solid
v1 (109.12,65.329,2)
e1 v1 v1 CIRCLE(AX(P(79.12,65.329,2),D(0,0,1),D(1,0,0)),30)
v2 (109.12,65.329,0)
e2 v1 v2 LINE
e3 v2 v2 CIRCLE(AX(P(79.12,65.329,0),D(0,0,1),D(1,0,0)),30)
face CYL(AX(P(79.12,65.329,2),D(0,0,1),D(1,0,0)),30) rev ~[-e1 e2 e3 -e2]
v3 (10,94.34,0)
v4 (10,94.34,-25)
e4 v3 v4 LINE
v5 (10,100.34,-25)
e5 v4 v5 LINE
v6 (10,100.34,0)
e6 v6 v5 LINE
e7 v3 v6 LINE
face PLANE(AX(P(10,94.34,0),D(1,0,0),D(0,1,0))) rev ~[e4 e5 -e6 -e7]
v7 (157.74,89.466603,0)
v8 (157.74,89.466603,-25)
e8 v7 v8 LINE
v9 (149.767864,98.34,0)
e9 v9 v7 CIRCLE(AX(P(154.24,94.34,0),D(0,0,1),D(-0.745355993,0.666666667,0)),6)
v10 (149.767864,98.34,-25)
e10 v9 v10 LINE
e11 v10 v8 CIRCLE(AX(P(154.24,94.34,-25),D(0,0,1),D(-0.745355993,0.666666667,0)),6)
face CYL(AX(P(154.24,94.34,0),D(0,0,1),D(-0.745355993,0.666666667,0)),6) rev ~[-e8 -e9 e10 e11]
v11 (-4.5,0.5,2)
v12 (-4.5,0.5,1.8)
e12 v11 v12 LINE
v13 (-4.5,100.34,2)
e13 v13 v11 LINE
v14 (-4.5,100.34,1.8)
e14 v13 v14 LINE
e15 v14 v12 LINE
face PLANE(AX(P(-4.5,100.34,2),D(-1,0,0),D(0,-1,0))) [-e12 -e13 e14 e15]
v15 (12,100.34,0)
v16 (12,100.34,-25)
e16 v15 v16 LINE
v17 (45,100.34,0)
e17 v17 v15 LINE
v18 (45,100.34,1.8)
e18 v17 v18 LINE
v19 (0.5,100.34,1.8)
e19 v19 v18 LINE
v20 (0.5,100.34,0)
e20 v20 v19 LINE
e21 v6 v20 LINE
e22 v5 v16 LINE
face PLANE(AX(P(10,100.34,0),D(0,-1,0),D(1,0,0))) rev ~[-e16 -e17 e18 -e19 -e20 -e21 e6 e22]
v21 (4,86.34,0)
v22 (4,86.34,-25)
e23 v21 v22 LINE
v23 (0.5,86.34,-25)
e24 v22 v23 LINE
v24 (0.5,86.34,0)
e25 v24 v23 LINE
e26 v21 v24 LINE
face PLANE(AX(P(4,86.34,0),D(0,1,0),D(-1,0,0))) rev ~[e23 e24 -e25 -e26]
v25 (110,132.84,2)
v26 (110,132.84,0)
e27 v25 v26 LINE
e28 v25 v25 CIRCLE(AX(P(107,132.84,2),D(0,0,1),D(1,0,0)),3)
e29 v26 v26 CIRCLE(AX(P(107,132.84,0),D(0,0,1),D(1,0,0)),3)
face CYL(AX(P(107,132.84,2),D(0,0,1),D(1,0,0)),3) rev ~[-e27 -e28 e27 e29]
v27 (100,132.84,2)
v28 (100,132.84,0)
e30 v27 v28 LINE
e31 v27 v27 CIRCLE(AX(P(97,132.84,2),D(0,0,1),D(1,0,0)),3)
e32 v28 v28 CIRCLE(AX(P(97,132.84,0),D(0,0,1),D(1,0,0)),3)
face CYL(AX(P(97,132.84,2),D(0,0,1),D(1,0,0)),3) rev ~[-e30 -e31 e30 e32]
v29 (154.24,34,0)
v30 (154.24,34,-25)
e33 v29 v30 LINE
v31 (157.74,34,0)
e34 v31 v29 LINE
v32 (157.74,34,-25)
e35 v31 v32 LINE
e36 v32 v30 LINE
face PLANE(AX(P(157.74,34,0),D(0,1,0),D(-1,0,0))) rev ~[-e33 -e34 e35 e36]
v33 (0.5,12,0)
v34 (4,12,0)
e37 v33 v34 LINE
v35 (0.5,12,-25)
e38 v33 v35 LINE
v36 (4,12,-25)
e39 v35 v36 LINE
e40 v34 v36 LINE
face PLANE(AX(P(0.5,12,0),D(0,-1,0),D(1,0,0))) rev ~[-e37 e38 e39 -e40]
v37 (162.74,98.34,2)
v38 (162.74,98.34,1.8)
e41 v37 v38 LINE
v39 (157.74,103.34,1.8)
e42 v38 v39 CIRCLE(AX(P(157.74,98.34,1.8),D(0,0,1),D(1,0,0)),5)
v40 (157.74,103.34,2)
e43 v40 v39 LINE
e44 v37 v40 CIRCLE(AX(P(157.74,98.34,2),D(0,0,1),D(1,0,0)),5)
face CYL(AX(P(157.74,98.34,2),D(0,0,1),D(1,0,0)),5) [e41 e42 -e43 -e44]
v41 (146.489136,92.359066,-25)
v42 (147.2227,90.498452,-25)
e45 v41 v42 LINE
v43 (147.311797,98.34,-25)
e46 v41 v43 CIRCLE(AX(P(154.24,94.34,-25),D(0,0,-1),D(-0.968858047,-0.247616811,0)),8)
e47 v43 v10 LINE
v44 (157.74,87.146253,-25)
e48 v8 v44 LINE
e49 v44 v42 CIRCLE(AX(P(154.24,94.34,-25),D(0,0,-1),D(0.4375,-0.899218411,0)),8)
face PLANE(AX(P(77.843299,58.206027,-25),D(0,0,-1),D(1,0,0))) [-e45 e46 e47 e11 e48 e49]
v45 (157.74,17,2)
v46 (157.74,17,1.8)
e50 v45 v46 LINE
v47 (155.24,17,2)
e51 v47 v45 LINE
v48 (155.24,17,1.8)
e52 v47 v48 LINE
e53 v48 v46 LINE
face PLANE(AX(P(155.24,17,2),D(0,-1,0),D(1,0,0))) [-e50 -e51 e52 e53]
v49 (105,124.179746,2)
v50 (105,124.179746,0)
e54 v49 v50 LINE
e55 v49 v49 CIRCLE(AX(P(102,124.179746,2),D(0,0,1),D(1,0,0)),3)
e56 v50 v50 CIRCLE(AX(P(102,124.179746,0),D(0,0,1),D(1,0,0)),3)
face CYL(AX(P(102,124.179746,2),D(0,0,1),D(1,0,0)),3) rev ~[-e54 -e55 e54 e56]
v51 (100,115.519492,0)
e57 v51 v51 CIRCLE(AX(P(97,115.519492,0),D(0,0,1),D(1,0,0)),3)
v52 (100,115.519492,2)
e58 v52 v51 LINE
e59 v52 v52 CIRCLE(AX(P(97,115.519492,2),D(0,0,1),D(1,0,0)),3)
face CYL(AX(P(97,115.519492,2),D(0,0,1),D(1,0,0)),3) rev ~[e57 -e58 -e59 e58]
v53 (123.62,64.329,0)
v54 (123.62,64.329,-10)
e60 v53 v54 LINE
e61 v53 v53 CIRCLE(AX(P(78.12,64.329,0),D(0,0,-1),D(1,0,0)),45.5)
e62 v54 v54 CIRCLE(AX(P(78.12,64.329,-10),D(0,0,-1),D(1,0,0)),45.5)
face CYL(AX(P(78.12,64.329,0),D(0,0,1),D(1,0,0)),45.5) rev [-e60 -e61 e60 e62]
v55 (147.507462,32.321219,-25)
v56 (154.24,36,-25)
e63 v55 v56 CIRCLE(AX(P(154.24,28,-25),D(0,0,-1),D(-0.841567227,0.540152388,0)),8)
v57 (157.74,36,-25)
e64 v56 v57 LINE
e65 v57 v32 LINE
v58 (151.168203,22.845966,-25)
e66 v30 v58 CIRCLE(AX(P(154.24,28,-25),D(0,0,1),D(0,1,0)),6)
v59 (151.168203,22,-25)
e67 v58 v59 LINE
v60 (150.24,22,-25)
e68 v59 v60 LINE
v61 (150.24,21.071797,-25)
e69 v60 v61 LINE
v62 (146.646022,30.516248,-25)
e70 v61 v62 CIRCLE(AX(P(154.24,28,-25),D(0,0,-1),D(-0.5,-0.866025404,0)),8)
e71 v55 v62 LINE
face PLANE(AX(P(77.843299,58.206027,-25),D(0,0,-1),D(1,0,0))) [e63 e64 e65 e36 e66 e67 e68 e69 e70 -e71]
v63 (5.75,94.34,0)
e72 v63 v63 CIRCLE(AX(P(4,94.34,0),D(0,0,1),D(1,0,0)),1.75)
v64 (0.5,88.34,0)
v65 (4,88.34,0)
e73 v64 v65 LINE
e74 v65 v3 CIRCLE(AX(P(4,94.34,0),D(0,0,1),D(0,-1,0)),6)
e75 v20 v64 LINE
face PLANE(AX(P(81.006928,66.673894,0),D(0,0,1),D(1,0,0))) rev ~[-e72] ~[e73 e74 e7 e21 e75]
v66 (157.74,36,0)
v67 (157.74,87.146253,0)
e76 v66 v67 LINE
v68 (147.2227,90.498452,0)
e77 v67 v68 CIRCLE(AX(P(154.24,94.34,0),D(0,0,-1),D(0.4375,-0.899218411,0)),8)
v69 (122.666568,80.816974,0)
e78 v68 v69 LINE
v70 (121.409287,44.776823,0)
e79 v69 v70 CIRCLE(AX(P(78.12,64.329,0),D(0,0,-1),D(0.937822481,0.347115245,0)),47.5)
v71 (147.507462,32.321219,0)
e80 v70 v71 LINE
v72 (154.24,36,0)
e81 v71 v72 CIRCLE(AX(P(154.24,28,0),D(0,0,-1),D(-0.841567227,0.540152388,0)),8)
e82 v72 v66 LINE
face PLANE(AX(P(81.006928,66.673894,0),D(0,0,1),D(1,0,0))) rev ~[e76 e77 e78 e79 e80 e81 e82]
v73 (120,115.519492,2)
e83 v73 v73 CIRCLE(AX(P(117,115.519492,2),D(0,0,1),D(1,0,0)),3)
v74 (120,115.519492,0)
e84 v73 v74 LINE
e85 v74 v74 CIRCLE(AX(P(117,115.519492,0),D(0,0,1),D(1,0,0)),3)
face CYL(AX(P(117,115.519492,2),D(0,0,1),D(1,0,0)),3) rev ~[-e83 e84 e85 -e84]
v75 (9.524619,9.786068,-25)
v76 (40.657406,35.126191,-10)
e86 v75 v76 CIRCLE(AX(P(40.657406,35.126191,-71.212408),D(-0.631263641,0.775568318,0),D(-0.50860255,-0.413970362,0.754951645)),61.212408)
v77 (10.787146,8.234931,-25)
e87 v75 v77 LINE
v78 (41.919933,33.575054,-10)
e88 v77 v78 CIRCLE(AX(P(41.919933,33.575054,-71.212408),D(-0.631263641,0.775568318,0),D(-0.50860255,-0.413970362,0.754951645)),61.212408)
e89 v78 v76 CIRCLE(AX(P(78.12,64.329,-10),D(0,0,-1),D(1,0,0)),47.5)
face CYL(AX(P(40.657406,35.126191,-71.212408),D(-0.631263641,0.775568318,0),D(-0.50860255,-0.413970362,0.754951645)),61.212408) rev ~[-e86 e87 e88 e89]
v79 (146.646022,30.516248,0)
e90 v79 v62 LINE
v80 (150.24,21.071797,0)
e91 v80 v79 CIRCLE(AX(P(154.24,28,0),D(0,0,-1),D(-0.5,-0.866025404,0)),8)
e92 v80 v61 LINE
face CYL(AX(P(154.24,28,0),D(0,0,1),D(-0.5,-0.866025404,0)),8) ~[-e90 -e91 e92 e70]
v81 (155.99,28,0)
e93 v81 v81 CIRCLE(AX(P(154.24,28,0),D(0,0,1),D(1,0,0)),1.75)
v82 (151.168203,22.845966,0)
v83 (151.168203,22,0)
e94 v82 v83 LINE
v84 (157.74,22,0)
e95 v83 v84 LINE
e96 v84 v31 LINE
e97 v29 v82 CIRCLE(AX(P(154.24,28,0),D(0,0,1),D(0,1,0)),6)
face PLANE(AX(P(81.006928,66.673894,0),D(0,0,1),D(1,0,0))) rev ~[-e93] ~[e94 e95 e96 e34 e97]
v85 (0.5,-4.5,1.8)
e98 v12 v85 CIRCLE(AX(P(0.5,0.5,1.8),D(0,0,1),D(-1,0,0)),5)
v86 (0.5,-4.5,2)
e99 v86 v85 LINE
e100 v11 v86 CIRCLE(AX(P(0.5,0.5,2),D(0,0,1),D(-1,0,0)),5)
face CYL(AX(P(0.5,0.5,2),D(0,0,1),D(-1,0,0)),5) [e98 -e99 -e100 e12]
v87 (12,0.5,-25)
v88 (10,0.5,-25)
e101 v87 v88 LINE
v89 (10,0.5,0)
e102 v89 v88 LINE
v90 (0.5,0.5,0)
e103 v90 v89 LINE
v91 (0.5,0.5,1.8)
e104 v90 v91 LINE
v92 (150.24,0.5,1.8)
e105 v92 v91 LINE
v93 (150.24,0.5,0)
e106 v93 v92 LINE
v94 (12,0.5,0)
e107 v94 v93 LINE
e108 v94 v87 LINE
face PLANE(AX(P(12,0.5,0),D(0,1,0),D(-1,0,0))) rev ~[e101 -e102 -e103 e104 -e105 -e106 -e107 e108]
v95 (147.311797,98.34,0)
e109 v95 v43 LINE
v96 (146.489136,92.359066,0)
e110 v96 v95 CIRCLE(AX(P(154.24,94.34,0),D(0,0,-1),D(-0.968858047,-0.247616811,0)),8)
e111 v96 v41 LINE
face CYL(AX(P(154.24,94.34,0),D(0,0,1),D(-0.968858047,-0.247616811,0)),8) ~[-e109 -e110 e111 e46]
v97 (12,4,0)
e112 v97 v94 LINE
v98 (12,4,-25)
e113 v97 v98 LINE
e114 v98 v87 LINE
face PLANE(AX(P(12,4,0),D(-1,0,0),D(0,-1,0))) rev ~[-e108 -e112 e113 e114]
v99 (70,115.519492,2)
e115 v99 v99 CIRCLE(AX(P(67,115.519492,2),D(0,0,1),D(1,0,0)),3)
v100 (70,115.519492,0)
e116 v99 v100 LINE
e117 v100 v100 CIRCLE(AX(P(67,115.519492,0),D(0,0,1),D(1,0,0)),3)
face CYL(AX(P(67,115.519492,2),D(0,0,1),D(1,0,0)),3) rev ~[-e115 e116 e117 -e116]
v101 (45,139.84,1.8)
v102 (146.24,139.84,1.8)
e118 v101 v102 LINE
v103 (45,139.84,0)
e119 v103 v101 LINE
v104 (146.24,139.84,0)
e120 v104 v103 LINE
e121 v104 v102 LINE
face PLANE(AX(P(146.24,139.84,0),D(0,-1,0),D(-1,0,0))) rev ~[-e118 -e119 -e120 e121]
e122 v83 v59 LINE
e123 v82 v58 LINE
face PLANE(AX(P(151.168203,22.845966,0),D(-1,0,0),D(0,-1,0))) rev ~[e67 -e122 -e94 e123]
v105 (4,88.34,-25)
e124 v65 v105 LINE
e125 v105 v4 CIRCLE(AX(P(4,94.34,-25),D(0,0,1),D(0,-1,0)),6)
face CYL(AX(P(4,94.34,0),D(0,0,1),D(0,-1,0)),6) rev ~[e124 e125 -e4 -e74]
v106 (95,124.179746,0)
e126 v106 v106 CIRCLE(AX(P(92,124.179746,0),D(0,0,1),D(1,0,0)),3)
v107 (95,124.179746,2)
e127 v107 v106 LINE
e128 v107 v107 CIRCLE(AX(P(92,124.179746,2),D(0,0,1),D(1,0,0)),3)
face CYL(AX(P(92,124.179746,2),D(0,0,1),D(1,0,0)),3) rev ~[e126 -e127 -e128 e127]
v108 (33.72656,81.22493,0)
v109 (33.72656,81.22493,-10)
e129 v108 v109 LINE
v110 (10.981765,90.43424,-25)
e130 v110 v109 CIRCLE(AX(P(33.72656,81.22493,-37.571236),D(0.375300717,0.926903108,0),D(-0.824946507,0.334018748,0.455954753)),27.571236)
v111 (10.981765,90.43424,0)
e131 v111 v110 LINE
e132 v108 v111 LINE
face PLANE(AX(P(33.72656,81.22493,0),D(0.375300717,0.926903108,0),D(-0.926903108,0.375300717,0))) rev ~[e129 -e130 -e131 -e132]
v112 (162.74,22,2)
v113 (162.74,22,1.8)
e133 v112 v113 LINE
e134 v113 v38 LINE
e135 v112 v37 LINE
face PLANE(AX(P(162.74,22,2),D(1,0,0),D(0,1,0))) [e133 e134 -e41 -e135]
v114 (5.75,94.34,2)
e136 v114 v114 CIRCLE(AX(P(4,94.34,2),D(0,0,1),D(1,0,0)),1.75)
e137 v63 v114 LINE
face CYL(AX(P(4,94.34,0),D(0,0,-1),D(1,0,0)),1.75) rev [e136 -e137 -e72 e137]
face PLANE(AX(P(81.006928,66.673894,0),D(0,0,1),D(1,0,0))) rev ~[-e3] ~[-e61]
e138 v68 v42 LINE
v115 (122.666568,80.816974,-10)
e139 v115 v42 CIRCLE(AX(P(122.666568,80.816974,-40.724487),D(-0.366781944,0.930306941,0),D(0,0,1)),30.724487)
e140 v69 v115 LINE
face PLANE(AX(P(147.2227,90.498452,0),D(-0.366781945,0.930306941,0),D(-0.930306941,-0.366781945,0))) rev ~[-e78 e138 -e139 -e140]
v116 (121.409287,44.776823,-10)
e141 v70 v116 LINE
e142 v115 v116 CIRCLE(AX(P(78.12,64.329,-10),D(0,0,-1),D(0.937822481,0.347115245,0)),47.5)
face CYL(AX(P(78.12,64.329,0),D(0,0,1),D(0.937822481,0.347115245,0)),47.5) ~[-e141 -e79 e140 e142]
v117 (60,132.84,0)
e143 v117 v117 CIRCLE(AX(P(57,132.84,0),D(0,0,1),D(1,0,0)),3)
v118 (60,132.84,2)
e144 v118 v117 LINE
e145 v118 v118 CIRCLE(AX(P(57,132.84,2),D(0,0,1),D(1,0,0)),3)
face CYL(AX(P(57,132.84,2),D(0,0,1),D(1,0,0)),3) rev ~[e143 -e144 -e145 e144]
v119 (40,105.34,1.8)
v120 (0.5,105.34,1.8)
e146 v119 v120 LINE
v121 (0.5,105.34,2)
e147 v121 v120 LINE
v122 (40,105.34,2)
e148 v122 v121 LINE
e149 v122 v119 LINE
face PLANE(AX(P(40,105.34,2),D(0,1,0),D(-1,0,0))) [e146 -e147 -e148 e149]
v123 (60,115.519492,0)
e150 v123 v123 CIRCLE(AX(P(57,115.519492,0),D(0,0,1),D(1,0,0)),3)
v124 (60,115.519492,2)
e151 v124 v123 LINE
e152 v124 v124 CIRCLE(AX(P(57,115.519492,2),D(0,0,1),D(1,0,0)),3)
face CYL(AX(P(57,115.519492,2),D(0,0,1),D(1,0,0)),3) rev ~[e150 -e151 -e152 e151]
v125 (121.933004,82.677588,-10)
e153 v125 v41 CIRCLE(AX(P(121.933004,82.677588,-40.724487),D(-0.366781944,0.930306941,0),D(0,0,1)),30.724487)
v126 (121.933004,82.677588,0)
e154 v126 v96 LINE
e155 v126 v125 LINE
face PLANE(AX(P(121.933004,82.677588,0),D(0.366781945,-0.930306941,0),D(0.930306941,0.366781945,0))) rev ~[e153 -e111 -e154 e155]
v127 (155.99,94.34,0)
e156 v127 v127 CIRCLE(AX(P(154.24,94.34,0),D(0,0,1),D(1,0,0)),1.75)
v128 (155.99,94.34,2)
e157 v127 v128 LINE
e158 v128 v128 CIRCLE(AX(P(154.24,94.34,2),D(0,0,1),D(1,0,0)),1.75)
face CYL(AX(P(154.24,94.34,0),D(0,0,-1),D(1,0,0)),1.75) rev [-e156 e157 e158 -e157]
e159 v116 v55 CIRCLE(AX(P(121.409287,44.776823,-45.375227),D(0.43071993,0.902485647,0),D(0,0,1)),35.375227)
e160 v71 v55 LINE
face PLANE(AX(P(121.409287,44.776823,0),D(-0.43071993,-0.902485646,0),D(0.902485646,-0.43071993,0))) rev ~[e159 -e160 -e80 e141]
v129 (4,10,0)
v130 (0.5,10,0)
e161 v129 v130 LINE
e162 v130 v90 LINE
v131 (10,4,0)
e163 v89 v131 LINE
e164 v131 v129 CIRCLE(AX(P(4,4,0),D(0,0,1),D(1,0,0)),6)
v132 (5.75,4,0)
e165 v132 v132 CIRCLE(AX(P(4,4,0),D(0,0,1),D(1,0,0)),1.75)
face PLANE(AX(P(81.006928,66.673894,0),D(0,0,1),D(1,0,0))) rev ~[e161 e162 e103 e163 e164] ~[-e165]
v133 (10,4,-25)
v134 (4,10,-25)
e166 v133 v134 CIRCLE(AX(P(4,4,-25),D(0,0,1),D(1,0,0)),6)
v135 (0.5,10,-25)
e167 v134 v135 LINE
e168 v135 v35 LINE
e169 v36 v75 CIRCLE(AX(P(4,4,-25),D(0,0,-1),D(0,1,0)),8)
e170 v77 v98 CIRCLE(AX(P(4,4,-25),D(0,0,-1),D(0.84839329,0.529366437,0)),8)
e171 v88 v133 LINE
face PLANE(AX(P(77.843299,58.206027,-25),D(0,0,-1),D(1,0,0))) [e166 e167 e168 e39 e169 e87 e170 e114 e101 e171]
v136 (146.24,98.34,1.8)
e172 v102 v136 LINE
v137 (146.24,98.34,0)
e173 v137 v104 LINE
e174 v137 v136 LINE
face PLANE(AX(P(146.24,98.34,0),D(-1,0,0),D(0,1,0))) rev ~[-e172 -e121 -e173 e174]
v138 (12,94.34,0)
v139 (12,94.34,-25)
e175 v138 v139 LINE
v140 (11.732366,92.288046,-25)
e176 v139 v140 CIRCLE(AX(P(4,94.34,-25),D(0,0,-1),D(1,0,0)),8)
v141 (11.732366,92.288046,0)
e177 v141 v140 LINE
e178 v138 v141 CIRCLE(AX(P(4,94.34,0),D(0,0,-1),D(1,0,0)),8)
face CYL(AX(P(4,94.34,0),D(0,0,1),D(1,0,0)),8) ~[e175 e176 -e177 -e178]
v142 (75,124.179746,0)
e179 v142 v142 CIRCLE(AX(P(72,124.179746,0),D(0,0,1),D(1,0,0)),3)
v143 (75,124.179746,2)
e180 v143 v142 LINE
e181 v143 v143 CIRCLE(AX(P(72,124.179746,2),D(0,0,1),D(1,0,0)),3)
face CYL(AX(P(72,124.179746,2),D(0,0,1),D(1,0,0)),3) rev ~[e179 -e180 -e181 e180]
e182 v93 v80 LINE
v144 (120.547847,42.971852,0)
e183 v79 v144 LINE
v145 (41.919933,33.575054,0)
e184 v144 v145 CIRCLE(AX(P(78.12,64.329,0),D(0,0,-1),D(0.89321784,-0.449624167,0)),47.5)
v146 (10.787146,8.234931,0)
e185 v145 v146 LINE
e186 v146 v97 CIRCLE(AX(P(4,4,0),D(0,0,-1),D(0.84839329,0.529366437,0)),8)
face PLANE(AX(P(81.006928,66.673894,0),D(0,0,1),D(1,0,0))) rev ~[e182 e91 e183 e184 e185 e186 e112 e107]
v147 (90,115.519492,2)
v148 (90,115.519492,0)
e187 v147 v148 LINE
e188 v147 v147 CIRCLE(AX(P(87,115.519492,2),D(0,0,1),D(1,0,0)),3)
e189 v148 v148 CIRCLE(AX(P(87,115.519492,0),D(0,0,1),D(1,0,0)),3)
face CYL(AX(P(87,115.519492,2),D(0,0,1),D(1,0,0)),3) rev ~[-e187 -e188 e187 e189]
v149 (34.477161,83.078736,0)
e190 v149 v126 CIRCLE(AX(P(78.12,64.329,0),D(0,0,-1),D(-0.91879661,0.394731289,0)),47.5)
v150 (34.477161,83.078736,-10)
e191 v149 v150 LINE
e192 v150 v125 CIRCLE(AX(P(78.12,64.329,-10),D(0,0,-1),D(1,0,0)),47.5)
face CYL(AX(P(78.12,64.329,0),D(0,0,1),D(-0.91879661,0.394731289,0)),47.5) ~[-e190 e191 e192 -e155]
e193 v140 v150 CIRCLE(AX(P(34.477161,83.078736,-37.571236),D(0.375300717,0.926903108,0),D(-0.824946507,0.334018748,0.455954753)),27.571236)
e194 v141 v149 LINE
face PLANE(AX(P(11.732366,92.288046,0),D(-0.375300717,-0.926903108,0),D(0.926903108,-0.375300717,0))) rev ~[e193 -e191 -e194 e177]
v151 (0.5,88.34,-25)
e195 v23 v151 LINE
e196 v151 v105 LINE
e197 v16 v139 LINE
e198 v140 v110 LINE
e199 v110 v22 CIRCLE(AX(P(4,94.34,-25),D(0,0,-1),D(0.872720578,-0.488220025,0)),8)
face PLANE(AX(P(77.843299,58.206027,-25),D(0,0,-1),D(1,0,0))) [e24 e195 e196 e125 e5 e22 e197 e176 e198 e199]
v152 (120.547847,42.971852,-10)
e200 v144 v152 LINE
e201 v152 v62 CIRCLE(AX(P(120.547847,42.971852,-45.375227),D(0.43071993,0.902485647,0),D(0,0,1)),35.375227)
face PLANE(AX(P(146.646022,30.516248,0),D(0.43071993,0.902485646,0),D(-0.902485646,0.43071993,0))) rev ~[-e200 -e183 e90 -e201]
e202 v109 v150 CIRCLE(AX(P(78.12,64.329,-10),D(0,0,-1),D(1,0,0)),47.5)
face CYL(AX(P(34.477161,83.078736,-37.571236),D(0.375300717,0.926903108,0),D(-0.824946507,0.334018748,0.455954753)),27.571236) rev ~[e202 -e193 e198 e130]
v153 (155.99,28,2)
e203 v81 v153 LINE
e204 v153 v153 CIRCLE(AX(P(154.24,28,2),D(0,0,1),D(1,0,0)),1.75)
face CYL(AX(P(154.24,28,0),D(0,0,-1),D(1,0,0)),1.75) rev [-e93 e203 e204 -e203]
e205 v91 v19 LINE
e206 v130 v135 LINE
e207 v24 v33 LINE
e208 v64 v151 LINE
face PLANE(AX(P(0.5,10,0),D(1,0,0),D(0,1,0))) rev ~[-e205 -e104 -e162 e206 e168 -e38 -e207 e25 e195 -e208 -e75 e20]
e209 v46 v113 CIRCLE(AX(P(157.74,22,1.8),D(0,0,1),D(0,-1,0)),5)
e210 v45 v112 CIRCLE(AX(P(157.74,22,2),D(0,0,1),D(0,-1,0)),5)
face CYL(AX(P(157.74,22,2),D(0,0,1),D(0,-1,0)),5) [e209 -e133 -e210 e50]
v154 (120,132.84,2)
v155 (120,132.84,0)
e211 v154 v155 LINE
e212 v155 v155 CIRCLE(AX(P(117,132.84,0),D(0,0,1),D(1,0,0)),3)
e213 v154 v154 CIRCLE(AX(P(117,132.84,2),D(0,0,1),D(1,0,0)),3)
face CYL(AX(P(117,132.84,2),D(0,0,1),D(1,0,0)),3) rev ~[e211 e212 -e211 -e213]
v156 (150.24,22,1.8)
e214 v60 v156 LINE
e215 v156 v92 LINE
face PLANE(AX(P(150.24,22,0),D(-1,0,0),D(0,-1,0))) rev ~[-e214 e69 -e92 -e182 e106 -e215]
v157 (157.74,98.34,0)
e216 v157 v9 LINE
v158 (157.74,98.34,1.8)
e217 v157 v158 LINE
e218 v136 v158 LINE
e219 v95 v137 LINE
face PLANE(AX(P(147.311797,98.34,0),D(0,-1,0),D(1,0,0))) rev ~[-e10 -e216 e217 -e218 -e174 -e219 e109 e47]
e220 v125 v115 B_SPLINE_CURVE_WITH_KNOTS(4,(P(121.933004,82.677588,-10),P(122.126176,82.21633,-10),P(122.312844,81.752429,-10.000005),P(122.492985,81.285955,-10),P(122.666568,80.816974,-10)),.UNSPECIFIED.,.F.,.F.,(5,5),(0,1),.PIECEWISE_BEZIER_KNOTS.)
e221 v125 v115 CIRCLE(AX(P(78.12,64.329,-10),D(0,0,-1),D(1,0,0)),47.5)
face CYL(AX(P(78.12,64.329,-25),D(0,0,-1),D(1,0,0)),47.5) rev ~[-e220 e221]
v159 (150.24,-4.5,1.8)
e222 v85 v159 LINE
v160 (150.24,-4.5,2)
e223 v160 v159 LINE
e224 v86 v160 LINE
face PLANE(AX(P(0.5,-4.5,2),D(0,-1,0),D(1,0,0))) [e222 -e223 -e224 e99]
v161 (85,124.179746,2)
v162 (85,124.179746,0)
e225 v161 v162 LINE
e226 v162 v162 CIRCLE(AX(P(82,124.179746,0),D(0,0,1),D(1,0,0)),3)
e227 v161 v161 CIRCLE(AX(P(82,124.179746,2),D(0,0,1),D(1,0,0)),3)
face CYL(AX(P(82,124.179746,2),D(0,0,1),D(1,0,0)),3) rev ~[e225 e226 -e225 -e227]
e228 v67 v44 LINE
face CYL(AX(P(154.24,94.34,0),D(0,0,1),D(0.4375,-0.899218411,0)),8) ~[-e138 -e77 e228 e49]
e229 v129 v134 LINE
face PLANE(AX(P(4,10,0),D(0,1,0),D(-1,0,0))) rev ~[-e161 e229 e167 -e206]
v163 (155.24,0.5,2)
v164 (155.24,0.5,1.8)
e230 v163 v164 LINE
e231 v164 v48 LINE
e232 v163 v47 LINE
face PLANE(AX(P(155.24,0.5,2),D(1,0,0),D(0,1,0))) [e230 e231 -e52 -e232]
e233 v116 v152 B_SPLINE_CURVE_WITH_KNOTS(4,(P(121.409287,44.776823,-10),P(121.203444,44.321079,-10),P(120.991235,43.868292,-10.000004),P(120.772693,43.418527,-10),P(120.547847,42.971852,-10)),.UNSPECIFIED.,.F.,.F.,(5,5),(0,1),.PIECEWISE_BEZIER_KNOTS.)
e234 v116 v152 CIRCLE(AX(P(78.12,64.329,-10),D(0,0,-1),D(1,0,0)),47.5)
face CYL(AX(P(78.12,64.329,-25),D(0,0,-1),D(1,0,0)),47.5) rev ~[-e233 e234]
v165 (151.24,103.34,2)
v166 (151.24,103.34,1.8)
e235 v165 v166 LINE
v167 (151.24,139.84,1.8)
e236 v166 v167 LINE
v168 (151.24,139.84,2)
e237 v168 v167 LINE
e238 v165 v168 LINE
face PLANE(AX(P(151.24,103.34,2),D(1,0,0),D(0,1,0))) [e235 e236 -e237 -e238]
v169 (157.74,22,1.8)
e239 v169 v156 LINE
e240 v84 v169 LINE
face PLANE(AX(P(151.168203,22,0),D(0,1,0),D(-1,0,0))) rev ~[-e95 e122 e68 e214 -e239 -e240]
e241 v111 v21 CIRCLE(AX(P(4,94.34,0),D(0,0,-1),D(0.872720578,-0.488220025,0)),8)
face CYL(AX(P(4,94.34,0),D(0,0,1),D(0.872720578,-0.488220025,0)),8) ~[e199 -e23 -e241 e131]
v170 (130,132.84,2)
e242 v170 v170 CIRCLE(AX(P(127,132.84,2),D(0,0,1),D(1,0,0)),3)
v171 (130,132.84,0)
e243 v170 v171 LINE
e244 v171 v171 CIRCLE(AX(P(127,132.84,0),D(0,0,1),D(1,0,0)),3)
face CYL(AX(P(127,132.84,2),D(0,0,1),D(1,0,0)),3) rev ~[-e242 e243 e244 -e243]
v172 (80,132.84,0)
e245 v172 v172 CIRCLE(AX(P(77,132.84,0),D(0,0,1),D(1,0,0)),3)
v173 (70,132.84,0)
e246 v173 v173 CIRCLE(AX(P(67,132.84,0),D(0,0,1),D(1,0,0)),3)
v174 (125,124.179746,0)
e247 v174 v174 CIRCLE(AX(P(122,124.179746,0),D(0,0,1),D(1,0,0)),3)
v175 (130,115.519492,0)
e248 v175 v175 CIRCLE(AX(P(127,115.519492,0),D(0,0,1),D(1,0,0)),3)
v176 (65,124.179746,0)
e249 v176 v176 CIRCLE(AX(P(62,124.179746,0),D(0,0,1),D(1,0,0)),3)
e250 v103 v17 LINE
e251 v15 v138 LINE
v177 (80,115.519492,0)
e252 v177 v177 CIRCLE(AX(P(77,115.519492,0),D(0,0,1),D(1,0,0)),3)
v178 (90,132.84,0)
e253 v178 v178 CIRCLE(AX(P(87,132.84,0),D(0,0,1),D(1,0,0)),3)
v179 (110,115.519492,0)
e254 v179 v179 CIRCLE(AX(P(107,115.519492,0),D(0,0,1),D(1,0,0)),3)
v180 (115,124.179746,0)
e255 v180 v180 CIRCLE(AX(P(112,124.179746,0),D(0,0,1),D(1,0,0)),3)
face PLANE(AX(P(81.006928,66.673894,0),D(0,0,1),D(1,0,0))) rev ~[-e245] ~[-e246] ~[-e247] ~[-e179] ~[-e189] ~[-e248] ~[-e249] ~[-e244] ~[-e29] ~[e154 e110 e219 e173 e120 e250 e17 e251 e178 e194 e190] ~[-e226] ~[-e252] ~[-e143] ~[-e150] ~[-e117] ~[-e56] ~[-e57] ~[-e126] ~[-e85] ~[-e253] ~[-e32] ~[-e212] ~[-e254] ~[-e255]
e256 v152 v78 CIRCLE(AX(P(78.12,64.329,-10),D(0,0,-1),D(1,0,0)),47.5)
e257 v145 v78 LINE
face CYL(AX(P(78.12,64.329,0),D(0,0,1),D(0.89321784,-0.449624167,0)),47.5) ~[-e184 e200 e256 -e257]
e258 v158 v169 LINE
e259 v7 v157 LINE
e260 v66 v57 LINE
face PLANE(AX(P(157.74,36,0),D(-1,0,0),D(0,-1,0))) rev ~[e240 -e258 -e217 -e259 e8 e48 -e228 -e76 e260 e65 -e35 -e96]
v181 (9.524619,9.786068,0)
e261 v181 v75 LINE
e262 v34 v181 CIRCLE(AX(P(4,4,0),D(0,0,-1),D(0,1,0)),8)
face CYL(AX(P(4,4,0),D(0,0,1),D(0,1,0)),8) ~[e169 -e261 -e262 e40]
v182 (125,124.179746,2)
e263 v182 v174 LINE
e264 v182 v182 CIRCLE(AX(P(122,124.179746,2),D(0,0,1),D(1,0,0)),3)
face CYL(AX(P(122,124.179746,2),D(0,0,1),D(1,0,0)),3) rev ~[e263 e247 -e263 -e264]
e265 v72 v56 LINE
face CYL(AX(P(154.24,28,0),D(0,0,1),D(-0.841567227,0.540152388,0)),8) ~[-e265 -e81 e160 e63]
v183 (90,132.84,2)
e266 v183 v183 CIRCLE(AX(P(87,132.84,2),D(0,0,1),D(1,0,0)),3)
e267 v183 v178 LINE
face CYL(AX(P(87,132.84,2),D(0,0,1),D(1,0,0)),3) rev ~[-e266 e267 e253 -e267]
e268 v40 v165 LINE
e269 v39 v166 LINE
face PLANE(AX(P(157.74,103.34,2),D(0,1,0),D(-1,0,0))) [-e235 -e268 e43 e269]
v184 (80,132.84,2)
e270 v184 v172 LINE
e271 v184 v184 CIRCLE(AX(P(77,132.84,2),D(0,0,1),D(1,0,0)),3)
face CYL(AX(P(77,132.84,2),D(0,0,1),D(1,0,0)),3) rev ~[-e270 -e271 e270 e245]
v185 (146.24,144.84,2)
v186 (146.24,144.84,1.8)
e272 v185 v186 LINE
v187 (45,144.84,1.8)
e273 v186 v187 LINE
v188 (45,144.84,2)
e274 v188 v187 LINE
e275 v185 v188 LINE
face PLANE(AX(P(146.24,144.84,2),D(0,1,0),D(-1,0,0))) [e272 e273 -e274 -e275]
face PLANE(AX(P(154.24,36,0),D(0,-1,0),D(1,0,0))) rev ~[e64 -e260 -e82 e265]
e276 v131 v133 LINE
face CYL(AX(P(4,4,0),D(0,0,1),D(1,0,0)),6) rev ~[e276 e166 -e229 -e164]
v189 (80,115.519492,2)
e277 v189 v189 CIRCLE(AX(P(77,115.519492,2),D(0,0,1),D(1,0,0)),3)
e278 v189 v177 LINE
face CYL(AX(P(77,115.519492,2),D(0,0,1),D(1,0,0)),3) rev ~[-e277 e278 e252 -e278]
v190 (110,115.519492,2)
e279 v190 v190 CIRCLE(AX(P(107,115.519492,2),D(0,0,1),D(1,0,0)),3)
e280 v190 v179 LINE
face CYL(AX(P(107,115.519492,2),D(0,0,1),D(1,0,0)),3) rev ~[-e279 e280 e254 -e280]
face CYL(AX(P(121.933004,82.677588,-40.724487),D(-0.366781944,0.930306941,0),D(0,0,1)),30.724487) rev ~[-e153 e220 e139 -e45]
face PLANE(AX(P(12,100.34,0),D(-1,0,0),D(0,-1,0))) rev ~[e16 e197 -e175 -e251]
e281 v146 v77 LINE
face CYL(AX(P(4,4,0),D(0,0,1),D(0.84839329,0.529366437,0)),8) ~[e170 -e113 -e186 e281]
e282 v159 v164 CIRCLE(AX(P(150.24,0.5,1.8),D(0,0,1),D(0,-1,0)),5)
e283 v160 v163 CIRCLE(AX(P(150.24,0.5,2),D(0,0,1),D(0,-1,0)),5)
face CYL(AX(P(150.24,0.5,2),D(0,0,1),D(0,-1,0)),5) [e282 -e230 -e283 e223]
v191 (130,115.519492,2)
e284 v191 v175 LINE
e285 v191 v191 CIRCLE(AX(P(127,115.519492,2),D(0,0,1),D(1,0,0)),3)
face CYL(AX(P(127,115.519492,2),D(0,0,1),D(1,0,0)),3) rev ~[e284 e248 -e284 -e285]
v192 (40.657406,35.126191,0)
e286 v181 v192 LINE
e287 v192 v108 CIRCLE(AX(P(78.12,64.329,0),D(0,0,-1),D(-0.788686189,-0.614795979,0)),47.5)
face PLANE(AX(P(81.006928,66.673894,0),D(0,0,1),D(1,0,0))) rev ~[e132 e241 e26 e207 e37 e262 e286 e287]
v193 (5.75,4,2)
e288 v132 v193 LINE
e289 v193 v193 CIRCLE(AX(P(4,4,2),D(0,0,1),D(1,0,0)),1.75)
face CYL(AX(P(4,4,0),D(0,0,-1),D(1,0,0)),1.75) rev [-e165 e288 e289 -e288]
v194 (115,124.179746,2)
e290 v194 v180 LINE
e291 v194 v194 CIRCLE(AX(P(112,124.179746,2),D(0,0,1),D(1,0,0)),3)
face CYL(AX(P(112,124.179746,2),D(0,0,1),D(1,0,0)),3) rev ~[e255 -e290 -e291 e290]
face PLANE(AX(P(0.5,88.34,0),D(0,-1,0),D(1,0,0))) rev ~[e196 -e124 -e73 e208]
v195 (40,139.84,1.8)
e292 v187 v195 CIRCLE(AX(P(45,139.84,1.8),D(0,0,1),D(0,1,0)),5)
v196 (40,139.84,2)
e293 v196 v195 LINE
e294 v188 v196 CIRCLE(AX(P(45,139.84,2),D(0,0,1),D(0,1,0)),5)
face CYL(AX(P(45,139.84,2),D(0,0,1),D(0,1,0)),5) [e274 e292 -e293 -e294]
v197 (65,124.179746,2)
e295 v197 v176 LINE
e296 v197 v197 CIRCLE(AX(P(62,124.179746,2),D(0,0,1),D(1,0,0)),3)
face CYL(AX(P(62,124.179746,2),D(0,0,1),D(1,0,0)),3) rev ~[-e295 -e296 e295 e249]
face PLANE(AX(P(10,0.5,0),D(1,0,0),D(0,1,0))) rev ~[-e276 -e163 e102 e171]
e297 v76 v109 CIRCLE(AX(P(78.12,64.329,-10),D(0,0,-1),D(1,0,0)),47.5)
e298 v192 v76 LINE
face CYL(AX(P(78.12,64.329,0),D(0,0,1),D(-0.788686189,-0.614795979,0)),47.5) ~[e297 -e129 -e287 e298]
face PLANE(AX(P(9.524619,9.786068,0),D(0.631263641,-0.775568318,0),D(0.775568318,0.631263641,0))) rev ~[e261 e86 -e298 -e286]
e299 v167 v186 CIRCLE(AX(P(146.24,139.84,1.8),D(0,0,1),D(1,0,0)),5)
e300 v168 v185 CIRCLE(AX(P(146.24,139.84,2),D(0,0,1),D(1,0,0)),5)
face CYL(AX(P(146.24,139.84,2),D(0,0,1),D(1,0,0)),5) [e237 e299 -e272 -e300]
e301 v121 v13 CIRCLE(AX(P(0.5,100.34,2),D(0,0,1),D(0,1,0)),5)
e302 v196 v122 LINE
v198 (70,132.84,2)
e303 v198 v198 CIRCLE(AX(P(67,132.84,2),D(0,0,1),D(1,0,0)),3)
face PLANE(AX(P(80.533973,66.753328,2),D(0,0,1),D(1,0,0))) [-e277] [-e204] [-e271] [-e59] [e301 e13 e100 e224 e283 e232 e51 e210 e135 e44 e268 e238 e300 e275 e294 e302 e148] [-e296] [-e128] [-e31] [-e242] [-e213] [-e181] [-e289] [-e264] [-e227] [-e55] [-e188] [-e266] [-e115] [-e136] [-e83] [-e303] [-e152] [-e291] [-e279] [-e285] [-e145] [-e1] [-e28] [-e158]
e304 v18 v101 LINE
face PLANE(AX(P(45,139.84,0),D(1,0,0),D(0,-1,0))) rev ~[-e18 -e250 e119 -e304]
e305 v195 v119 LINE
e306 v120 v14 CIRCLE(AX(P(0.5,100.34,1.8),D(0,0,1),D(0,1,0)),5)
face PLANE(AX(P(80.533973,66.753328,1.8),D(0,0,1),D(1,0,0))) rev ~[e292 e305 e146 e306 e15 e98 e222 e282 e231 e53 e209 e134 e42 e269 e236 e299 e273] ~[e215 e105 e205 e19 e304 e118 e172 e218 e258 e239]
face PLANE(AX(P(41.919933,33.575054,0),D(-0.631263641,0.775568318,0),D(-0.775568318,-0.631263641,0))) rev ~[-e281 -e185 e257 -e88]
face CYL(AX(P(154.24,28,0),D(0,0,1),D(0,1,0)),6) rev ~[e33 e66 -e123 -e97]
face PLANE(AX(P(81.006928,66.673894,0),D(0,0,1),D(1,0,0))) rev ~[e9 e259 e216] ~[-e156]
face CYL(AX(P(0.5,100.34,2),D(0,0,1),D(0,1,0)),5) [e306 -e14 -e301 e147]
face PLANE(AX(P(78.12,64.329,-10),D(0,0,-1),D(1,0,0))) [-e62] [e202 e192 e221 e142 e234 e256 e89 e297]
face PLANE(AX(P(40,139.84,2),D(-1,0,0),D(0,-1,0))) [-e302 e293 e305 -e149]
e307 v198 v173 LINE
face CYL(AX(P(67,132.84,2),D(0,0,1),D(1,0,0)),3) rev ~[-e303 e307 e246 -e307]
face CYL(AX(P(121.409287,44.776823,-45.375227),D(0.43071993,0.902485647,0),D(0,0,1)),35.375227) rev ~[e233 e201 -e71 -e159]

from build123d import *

# Parameters (mm, degrees)
F0_R      = 1.75
F1_DEPTH  = 2
F2_R      = 45.5
F3_DEPTH  = 25
F4_R      = 47.5
F4_R_2    = 45.5
F5_DEPTH  = 15
F7_DEPTH  = 2
F9_DEPTH  = 2
F11_DEPTH = 2
F13_DEPTH = 2
F14_R     = 3
F14_R_2   = 30
F15_DEPTH = 2
F17_DEPTH = 0.2


with BuildPart() as f1:
    # F0 (on Top) → F1 (new body)
    with BuildSketch(Plane.XY):
        Polygon((146.24, 139.84), (45, 139.84), (45, 100.34), (0.5, 100.34), (0.5, 0.5), (150.24, 0.5), (150.24, 22), (157.74, 22), (157.74, 98.34), (146.24, 98.34), align=None)
        with Locations((4, 4)):
            Circle(F0_R, mode=Mode.SUBTRACT)
        with Locations((154.24, 28)):
            Circle(F0_R, mode=Mode.SUBTRACT)
        with Locations((4, 94.34)):
            Circle(F0_R, mode=Mode.SUBTRACT)
        with Locations((154.24, 94.34)):
            Circle(F0_R, mode=Mode.SUBTRACT)
    extrude(amount=F1_DEPTH)

    # F2 (on face) → F3 (join)
    with BuildSketch(Plane(origin=(0, 0, 0), x_dir=(1, 0, 0), z_dir=(0, 0, -1))):
        with BuildLine():
            ThreePointArc((10, -4), (8.2426406871, -8.2426406871), (4, -10))
            Line((4, -10), (0.5, -10))
            Line((0.5, -10), (0.5, -12))
            Line((0.5, -12), (4, -12))
            ThreePointArc((4, -12), (6.9758574337, -11.425918969), (9.5246190414, -9.7860681336))
            Line((9.5246190414, -9.7860681336), (40.6574060377, -35.1261909979))
            ThreePointArc((40.6574060377, -35.1261909979), (31.1479229304, -57.2668490696), (33.7265596111, -81.2249299962))
            Line((33.7265596111, -81.2249299962), (10.9817646219, -90.4342397968))
            ThreePointArc((10.9817646219, -90.4342397968), (8.0468455848, -87.4390550783), (4, -86.34))
            Line((4, -86.34), (0.5, -86.34))
            Line((0.5, -86.34), (0.5, -88.34))
            Line((0.5, -88.34), (4, -88.34))
            ThreePointArc((4, -88.34), (8.2426406871, -90.0973593129), (10, -94.34))
            Line((10, -94.34), (10, -100.34))
            Line((10, -100.34), (12, -100.34))
            Line((12, -100.34), (12, -94.34))
            ThreePointArc((12, -94.34), (11.9328093527, -93.3053330133), (11.7323660567, -92.2880460127))
            Line((11.7323660567, -92.2880460127), (34.4771610459, -83.0787362121))
            ThreePointArc((34.4771610459, -83.0787362121), (78.3378738233, -111.8285003237), (121.9330039808, -82.677588016))
            Line((121.9330039808, -82.677588016), (146.489135626, -92.3590655095))
            ThreePointArc((146.489135626, -92.3590655095), (146.3146198339, -95.4301143162), (147.3117967697, -98.34))
            Line((147.3117967697, -98.34), (149.767864045, -98.34))
            ThreePointArc((149.767864045, -98.34), (149.7767549447, -90.3300818492), (157.74, -89.4666028276))
            Line((157.74, -89.4666028276), (157.74, -87.146252715))
            ThreePointArc((157.74, -87.146252715), (151.8105638388, -86.7178060941), (147.222699515, -90.4984516268))
            Line((147.222699515, -90.4984516268), (122.6665678698, -80.8169741333))
            ThreePointArc((122.6665678698, -80.8169741333), (125.5911225603, -62.6729435798), (121.4092872365, -44.7768233805))
            Line((121.4092872365, -44.7768233805), (147.5074621824, -32.3212191029))
            ThreePointArc((147.5074621824, -32.3212191029), (150.4039703353, -35.0203188255), (154.24, -36))
            Line((154.24, -36), (157.74, -36))
            Line((157.74, -36), (157.74, -34))
            Line((157.74, -34), (154.24, -34))
            ThreePointArc((154.24, -34), (148.4553564106, -29.5930783231), (151.1682032303, -22.8459661812))
            Line((151.1682032303, -22.8459661812), (151.1682032303, -22))
            Line((151.1682032303, -22), (150.24, -22))
            Line((150.24, -22), (150.24, -21.0717967697))
            ThreePointArc((150.24, -21.0717967697), (146.7630692489, -25.1547396352), (146.646022323, -30.5162478099))
            Line((146.646022323, -30.5162478099), (120.547847377, -42.9718520875))
            ThreePointArc((120.547847377, -42.9718520875), (83.7566004803, -17.164620061), (41.9199333193, -33.5750543619))
            Line((41.9199333193, -33.5750543619), (10.787146323, -8.2349314977))
            ThreePointArc((10.787146323, -8.2349314977), (11.6908117447, -6.202592724), (12, -4))
            Line((12, -4), (12, -0.5))
            Line((12, -0.5), (10, -0.5))
            Line((10, -0.5), (10, -4))
        make_face()
        with Locations((78.12, -64.329)):
            Circle(F2_R, mode=Mode.SUBTRACT)
    extrude(amount=F3_DEPTH)

    # F4 (on face) → F5 (cut)
    with BuildSketch(Plane(origin=(0, 0, -25), x_dir=(1, 0, 0), z_dir=(0, 0, -1))):
        with Locations((78.12, -64.329)):
            Circle(F4_R)
        with Locations((78.12, -64.329)):
            Circle(F4_R_2, mode=Mode.SUBTRACT)
    extrude(amount=-F5_DEPTH, mode=Mode.SUBTRACT)

    # F6 (on face) → F7 (cut, through all)
    with BuildSketch(Plane(origin=(-0.9956408244, 1.223240861, 0), x_dir=(-0.775568318, -0.6312636408, 0), z_dir=(-0.6312636408, 0.775568318, 0))):
        with BuildLine():
            Line((-53.7064832295, -25), (-13.5645817682, -25))
            ThreePointArc((-13.5645817682, -25), (-32.2800261441, -13.8724931652), (-53.7064832295, -10))
            Line((-53.7064832295, -10), (-53.7064832295, -25))
        make_face()
    extrude(amount=-F7_DEPTH, mode=Mode.SUBTRACT)

    # F8 (on face) → F9 (cut, through all)
    with BuildSketch(Plane(origin=(33.7565138758, 83.3705244234, 0), x_dir=(-0.926903108, 0.3753007174, 0), z_dir=(0.3753007174, 0.926903108, 0))):
        with BuildLine():
            Line((-0.7774784267, -25), (23.7610033133, -25))
            ThreePointArc((23.7610033133, -25), (13.6025171062, -14.0470190165), (-0.7774784267, -10))
            Line((-0.7774784267, -10), (-0.7774784267, -25))
        make_face()
    extrude(amount=-F9_DEPTH, mode=Mode.SUBTRACT)

    # F10 (on face) → F11 (cut, through all)
    with BuildSketch(Plane(origin=(-11.8077046726, 29.9491013188, 0), x_dir=(-0.9303069414, -0.3667819445, 0), z_dir=(-0.3667819445, 0.9303069414, 0))):
        with BuildLine():
            Line((-143.7597664873, -25), (-143.7597664873, -10))
            ThreePointArc((-143.7597664873, -10), (-158.9398077244, -14.0119347282), (-170.1554973511, -25))
            Line((-170.1554973511, -25), (-143.7597664873, -25))
        make_face()
    extrude(amount=-F11_DEPTH, mode=Mode.SUBTRACT)

    # F12 (on face) → F13 (cut, through all)
    with BuildSketch(Plane(origin=(39.9293914787, 83.6638850329, 0), x_dir=(-0.9024856465, 0.4307199297, 0), z_dir=(0.4307199297, 0.9024856465, 0))):
        with BuildLine():
            Line((-90.2838688618, -25), (-90.2838688618, -10))
            ThreePointArc((-90.2838688618, -10), (-106.5723372783, -13.9731174713), (-119.2019741495, -25))
            Line((-119.2019741495, -25), (-90.2838688618, -25))
        make_face()
    extrude(amount=-F13_DEPTH, mode=Mode.SUBTRACT)

    # F14 (on face) → F15 (cut, through all)
    with BuildSketch(Plane.XY.offset(2)):
        with Locations((57, 132.84)):
            Circle(F14_R)
        with Locations((67, 132.84)):
            Circle(F14_R)
        with Locations((77, 132.84)):
            Circle(F14_R)
        with Locations((87, 132.84)):
            Circle(F14_R)
        with Locations((97, 132.84)):
            Circle(F14_R)
        with Locations((107, 132.84)):
            Circle(F14_R)
        with Locations((117, 132.84)):
            Circle(F14_R)
        with Locations((127, 132.84)):
            Circle(F14_R)
        with Locations((62, 124.1797459622)):
            Circle(F14_R)
        with Locations((72, 124.1797459622)):
            Circle(F14_R)
        with Locations((82, 124.1797459622)):
            Circle(F14_R)
        with Locations((92, 124.1797459622)):
            Circle(F14_R)
        with Locations((102, 124.1797459622)):
            Circle(F14_R)
        with Locations((112, 124.1797459622)):
            Circle(F14_R)
        with Locations((122, 124.1797459622)):
            Circle(F14_R)
        with Locations((57, 115.5194919243)):
            Circle(F14_R)
        with Locations((67, 115.5194919243)):
            Circle(F14_R)
        with Locations((77, 115.5194919243)):
            Circle(F14_R)
        with Locations((87, 115.5194919243)):
            Circle(F14_R)
        with Locations((97, 115.5194919243)):
            Circle(F14_R)
        with Locations((107, 115.5194919243)):
            Circle(F14_R)
        with Locations((117, 115.5194919243)):
            Circle(F14_R)
        with Locations((127, 115.5194919243)):
            Circle(F14_R)
        with Locations((79.12, 65.329)):
            Circle(F14_R_2)
    extrude(amount=-F15_DEPTH, mode=Mode.SUBTRACT)

    # F16 (on face) → F17 (join)
    with BuildSketch(Plane.XY.offset(2)):
        with BuildLine():
            Line((40, 139.84), (40, 105.34))
            Line((40, 105.34), (0.5, 105.34))
            ThreePointArc((0.5, 105.34), (-3.0355339059, 103.8755339059), (-4.5, 100.34))
            Line((-4.5, 100.34), (-4.5, 0.5))
            ThreePointArc((-4.5, 0.5), (-3.0355339059, -3.0355339059), (0.5, -4.5))
            Line((0.5, -4.5), (150.24, -4.5))
            ThreePointArc((150.24, -4.5), (153.7755339059, -3.0355339059), (155.24, 0.5))
            Line((155.24, 0.5), (155.24, 17))
            Line((155.24, 17), (157.74, 17))
            ThreePointArc((157.74, 17), (161.2755339059, 18.4644660941), (162.74, 22))
            Line((162.74, 22), (162.74, 98.34))
            ThreePointArc((162.74, 98.34), (161.2755339059, 101.8755339059), (157.74, 103.34))
            Line((157.74, 103.34), (151.24, 103.34))
            Line((151.24, 103.34), (151.24, 139.84))
            ThreePointArc((151.24, 139.84), (149.7755339059, 143.3755339059), (146.24, 144.84))
            Line((146.24, 144.84), (45, 144.84))
            ThreePointArc((45, 144.84), (41.4644660941, 143.3755339059), (40, 139.84))
        make_face()
        Polygon((0.5, 0.5), (0.5, 100.34), (45, 100.34), (45, 139.84), (146.24, 139.84), (146.24, 98.34), (157.74, 98.34), (157.74, 22), (150.24, 22), (150.24, 0.5), align=None, mode=Mode.SUBTRACT)
    extrude(amount=-F17_DEPTH)


solid = f1.part
